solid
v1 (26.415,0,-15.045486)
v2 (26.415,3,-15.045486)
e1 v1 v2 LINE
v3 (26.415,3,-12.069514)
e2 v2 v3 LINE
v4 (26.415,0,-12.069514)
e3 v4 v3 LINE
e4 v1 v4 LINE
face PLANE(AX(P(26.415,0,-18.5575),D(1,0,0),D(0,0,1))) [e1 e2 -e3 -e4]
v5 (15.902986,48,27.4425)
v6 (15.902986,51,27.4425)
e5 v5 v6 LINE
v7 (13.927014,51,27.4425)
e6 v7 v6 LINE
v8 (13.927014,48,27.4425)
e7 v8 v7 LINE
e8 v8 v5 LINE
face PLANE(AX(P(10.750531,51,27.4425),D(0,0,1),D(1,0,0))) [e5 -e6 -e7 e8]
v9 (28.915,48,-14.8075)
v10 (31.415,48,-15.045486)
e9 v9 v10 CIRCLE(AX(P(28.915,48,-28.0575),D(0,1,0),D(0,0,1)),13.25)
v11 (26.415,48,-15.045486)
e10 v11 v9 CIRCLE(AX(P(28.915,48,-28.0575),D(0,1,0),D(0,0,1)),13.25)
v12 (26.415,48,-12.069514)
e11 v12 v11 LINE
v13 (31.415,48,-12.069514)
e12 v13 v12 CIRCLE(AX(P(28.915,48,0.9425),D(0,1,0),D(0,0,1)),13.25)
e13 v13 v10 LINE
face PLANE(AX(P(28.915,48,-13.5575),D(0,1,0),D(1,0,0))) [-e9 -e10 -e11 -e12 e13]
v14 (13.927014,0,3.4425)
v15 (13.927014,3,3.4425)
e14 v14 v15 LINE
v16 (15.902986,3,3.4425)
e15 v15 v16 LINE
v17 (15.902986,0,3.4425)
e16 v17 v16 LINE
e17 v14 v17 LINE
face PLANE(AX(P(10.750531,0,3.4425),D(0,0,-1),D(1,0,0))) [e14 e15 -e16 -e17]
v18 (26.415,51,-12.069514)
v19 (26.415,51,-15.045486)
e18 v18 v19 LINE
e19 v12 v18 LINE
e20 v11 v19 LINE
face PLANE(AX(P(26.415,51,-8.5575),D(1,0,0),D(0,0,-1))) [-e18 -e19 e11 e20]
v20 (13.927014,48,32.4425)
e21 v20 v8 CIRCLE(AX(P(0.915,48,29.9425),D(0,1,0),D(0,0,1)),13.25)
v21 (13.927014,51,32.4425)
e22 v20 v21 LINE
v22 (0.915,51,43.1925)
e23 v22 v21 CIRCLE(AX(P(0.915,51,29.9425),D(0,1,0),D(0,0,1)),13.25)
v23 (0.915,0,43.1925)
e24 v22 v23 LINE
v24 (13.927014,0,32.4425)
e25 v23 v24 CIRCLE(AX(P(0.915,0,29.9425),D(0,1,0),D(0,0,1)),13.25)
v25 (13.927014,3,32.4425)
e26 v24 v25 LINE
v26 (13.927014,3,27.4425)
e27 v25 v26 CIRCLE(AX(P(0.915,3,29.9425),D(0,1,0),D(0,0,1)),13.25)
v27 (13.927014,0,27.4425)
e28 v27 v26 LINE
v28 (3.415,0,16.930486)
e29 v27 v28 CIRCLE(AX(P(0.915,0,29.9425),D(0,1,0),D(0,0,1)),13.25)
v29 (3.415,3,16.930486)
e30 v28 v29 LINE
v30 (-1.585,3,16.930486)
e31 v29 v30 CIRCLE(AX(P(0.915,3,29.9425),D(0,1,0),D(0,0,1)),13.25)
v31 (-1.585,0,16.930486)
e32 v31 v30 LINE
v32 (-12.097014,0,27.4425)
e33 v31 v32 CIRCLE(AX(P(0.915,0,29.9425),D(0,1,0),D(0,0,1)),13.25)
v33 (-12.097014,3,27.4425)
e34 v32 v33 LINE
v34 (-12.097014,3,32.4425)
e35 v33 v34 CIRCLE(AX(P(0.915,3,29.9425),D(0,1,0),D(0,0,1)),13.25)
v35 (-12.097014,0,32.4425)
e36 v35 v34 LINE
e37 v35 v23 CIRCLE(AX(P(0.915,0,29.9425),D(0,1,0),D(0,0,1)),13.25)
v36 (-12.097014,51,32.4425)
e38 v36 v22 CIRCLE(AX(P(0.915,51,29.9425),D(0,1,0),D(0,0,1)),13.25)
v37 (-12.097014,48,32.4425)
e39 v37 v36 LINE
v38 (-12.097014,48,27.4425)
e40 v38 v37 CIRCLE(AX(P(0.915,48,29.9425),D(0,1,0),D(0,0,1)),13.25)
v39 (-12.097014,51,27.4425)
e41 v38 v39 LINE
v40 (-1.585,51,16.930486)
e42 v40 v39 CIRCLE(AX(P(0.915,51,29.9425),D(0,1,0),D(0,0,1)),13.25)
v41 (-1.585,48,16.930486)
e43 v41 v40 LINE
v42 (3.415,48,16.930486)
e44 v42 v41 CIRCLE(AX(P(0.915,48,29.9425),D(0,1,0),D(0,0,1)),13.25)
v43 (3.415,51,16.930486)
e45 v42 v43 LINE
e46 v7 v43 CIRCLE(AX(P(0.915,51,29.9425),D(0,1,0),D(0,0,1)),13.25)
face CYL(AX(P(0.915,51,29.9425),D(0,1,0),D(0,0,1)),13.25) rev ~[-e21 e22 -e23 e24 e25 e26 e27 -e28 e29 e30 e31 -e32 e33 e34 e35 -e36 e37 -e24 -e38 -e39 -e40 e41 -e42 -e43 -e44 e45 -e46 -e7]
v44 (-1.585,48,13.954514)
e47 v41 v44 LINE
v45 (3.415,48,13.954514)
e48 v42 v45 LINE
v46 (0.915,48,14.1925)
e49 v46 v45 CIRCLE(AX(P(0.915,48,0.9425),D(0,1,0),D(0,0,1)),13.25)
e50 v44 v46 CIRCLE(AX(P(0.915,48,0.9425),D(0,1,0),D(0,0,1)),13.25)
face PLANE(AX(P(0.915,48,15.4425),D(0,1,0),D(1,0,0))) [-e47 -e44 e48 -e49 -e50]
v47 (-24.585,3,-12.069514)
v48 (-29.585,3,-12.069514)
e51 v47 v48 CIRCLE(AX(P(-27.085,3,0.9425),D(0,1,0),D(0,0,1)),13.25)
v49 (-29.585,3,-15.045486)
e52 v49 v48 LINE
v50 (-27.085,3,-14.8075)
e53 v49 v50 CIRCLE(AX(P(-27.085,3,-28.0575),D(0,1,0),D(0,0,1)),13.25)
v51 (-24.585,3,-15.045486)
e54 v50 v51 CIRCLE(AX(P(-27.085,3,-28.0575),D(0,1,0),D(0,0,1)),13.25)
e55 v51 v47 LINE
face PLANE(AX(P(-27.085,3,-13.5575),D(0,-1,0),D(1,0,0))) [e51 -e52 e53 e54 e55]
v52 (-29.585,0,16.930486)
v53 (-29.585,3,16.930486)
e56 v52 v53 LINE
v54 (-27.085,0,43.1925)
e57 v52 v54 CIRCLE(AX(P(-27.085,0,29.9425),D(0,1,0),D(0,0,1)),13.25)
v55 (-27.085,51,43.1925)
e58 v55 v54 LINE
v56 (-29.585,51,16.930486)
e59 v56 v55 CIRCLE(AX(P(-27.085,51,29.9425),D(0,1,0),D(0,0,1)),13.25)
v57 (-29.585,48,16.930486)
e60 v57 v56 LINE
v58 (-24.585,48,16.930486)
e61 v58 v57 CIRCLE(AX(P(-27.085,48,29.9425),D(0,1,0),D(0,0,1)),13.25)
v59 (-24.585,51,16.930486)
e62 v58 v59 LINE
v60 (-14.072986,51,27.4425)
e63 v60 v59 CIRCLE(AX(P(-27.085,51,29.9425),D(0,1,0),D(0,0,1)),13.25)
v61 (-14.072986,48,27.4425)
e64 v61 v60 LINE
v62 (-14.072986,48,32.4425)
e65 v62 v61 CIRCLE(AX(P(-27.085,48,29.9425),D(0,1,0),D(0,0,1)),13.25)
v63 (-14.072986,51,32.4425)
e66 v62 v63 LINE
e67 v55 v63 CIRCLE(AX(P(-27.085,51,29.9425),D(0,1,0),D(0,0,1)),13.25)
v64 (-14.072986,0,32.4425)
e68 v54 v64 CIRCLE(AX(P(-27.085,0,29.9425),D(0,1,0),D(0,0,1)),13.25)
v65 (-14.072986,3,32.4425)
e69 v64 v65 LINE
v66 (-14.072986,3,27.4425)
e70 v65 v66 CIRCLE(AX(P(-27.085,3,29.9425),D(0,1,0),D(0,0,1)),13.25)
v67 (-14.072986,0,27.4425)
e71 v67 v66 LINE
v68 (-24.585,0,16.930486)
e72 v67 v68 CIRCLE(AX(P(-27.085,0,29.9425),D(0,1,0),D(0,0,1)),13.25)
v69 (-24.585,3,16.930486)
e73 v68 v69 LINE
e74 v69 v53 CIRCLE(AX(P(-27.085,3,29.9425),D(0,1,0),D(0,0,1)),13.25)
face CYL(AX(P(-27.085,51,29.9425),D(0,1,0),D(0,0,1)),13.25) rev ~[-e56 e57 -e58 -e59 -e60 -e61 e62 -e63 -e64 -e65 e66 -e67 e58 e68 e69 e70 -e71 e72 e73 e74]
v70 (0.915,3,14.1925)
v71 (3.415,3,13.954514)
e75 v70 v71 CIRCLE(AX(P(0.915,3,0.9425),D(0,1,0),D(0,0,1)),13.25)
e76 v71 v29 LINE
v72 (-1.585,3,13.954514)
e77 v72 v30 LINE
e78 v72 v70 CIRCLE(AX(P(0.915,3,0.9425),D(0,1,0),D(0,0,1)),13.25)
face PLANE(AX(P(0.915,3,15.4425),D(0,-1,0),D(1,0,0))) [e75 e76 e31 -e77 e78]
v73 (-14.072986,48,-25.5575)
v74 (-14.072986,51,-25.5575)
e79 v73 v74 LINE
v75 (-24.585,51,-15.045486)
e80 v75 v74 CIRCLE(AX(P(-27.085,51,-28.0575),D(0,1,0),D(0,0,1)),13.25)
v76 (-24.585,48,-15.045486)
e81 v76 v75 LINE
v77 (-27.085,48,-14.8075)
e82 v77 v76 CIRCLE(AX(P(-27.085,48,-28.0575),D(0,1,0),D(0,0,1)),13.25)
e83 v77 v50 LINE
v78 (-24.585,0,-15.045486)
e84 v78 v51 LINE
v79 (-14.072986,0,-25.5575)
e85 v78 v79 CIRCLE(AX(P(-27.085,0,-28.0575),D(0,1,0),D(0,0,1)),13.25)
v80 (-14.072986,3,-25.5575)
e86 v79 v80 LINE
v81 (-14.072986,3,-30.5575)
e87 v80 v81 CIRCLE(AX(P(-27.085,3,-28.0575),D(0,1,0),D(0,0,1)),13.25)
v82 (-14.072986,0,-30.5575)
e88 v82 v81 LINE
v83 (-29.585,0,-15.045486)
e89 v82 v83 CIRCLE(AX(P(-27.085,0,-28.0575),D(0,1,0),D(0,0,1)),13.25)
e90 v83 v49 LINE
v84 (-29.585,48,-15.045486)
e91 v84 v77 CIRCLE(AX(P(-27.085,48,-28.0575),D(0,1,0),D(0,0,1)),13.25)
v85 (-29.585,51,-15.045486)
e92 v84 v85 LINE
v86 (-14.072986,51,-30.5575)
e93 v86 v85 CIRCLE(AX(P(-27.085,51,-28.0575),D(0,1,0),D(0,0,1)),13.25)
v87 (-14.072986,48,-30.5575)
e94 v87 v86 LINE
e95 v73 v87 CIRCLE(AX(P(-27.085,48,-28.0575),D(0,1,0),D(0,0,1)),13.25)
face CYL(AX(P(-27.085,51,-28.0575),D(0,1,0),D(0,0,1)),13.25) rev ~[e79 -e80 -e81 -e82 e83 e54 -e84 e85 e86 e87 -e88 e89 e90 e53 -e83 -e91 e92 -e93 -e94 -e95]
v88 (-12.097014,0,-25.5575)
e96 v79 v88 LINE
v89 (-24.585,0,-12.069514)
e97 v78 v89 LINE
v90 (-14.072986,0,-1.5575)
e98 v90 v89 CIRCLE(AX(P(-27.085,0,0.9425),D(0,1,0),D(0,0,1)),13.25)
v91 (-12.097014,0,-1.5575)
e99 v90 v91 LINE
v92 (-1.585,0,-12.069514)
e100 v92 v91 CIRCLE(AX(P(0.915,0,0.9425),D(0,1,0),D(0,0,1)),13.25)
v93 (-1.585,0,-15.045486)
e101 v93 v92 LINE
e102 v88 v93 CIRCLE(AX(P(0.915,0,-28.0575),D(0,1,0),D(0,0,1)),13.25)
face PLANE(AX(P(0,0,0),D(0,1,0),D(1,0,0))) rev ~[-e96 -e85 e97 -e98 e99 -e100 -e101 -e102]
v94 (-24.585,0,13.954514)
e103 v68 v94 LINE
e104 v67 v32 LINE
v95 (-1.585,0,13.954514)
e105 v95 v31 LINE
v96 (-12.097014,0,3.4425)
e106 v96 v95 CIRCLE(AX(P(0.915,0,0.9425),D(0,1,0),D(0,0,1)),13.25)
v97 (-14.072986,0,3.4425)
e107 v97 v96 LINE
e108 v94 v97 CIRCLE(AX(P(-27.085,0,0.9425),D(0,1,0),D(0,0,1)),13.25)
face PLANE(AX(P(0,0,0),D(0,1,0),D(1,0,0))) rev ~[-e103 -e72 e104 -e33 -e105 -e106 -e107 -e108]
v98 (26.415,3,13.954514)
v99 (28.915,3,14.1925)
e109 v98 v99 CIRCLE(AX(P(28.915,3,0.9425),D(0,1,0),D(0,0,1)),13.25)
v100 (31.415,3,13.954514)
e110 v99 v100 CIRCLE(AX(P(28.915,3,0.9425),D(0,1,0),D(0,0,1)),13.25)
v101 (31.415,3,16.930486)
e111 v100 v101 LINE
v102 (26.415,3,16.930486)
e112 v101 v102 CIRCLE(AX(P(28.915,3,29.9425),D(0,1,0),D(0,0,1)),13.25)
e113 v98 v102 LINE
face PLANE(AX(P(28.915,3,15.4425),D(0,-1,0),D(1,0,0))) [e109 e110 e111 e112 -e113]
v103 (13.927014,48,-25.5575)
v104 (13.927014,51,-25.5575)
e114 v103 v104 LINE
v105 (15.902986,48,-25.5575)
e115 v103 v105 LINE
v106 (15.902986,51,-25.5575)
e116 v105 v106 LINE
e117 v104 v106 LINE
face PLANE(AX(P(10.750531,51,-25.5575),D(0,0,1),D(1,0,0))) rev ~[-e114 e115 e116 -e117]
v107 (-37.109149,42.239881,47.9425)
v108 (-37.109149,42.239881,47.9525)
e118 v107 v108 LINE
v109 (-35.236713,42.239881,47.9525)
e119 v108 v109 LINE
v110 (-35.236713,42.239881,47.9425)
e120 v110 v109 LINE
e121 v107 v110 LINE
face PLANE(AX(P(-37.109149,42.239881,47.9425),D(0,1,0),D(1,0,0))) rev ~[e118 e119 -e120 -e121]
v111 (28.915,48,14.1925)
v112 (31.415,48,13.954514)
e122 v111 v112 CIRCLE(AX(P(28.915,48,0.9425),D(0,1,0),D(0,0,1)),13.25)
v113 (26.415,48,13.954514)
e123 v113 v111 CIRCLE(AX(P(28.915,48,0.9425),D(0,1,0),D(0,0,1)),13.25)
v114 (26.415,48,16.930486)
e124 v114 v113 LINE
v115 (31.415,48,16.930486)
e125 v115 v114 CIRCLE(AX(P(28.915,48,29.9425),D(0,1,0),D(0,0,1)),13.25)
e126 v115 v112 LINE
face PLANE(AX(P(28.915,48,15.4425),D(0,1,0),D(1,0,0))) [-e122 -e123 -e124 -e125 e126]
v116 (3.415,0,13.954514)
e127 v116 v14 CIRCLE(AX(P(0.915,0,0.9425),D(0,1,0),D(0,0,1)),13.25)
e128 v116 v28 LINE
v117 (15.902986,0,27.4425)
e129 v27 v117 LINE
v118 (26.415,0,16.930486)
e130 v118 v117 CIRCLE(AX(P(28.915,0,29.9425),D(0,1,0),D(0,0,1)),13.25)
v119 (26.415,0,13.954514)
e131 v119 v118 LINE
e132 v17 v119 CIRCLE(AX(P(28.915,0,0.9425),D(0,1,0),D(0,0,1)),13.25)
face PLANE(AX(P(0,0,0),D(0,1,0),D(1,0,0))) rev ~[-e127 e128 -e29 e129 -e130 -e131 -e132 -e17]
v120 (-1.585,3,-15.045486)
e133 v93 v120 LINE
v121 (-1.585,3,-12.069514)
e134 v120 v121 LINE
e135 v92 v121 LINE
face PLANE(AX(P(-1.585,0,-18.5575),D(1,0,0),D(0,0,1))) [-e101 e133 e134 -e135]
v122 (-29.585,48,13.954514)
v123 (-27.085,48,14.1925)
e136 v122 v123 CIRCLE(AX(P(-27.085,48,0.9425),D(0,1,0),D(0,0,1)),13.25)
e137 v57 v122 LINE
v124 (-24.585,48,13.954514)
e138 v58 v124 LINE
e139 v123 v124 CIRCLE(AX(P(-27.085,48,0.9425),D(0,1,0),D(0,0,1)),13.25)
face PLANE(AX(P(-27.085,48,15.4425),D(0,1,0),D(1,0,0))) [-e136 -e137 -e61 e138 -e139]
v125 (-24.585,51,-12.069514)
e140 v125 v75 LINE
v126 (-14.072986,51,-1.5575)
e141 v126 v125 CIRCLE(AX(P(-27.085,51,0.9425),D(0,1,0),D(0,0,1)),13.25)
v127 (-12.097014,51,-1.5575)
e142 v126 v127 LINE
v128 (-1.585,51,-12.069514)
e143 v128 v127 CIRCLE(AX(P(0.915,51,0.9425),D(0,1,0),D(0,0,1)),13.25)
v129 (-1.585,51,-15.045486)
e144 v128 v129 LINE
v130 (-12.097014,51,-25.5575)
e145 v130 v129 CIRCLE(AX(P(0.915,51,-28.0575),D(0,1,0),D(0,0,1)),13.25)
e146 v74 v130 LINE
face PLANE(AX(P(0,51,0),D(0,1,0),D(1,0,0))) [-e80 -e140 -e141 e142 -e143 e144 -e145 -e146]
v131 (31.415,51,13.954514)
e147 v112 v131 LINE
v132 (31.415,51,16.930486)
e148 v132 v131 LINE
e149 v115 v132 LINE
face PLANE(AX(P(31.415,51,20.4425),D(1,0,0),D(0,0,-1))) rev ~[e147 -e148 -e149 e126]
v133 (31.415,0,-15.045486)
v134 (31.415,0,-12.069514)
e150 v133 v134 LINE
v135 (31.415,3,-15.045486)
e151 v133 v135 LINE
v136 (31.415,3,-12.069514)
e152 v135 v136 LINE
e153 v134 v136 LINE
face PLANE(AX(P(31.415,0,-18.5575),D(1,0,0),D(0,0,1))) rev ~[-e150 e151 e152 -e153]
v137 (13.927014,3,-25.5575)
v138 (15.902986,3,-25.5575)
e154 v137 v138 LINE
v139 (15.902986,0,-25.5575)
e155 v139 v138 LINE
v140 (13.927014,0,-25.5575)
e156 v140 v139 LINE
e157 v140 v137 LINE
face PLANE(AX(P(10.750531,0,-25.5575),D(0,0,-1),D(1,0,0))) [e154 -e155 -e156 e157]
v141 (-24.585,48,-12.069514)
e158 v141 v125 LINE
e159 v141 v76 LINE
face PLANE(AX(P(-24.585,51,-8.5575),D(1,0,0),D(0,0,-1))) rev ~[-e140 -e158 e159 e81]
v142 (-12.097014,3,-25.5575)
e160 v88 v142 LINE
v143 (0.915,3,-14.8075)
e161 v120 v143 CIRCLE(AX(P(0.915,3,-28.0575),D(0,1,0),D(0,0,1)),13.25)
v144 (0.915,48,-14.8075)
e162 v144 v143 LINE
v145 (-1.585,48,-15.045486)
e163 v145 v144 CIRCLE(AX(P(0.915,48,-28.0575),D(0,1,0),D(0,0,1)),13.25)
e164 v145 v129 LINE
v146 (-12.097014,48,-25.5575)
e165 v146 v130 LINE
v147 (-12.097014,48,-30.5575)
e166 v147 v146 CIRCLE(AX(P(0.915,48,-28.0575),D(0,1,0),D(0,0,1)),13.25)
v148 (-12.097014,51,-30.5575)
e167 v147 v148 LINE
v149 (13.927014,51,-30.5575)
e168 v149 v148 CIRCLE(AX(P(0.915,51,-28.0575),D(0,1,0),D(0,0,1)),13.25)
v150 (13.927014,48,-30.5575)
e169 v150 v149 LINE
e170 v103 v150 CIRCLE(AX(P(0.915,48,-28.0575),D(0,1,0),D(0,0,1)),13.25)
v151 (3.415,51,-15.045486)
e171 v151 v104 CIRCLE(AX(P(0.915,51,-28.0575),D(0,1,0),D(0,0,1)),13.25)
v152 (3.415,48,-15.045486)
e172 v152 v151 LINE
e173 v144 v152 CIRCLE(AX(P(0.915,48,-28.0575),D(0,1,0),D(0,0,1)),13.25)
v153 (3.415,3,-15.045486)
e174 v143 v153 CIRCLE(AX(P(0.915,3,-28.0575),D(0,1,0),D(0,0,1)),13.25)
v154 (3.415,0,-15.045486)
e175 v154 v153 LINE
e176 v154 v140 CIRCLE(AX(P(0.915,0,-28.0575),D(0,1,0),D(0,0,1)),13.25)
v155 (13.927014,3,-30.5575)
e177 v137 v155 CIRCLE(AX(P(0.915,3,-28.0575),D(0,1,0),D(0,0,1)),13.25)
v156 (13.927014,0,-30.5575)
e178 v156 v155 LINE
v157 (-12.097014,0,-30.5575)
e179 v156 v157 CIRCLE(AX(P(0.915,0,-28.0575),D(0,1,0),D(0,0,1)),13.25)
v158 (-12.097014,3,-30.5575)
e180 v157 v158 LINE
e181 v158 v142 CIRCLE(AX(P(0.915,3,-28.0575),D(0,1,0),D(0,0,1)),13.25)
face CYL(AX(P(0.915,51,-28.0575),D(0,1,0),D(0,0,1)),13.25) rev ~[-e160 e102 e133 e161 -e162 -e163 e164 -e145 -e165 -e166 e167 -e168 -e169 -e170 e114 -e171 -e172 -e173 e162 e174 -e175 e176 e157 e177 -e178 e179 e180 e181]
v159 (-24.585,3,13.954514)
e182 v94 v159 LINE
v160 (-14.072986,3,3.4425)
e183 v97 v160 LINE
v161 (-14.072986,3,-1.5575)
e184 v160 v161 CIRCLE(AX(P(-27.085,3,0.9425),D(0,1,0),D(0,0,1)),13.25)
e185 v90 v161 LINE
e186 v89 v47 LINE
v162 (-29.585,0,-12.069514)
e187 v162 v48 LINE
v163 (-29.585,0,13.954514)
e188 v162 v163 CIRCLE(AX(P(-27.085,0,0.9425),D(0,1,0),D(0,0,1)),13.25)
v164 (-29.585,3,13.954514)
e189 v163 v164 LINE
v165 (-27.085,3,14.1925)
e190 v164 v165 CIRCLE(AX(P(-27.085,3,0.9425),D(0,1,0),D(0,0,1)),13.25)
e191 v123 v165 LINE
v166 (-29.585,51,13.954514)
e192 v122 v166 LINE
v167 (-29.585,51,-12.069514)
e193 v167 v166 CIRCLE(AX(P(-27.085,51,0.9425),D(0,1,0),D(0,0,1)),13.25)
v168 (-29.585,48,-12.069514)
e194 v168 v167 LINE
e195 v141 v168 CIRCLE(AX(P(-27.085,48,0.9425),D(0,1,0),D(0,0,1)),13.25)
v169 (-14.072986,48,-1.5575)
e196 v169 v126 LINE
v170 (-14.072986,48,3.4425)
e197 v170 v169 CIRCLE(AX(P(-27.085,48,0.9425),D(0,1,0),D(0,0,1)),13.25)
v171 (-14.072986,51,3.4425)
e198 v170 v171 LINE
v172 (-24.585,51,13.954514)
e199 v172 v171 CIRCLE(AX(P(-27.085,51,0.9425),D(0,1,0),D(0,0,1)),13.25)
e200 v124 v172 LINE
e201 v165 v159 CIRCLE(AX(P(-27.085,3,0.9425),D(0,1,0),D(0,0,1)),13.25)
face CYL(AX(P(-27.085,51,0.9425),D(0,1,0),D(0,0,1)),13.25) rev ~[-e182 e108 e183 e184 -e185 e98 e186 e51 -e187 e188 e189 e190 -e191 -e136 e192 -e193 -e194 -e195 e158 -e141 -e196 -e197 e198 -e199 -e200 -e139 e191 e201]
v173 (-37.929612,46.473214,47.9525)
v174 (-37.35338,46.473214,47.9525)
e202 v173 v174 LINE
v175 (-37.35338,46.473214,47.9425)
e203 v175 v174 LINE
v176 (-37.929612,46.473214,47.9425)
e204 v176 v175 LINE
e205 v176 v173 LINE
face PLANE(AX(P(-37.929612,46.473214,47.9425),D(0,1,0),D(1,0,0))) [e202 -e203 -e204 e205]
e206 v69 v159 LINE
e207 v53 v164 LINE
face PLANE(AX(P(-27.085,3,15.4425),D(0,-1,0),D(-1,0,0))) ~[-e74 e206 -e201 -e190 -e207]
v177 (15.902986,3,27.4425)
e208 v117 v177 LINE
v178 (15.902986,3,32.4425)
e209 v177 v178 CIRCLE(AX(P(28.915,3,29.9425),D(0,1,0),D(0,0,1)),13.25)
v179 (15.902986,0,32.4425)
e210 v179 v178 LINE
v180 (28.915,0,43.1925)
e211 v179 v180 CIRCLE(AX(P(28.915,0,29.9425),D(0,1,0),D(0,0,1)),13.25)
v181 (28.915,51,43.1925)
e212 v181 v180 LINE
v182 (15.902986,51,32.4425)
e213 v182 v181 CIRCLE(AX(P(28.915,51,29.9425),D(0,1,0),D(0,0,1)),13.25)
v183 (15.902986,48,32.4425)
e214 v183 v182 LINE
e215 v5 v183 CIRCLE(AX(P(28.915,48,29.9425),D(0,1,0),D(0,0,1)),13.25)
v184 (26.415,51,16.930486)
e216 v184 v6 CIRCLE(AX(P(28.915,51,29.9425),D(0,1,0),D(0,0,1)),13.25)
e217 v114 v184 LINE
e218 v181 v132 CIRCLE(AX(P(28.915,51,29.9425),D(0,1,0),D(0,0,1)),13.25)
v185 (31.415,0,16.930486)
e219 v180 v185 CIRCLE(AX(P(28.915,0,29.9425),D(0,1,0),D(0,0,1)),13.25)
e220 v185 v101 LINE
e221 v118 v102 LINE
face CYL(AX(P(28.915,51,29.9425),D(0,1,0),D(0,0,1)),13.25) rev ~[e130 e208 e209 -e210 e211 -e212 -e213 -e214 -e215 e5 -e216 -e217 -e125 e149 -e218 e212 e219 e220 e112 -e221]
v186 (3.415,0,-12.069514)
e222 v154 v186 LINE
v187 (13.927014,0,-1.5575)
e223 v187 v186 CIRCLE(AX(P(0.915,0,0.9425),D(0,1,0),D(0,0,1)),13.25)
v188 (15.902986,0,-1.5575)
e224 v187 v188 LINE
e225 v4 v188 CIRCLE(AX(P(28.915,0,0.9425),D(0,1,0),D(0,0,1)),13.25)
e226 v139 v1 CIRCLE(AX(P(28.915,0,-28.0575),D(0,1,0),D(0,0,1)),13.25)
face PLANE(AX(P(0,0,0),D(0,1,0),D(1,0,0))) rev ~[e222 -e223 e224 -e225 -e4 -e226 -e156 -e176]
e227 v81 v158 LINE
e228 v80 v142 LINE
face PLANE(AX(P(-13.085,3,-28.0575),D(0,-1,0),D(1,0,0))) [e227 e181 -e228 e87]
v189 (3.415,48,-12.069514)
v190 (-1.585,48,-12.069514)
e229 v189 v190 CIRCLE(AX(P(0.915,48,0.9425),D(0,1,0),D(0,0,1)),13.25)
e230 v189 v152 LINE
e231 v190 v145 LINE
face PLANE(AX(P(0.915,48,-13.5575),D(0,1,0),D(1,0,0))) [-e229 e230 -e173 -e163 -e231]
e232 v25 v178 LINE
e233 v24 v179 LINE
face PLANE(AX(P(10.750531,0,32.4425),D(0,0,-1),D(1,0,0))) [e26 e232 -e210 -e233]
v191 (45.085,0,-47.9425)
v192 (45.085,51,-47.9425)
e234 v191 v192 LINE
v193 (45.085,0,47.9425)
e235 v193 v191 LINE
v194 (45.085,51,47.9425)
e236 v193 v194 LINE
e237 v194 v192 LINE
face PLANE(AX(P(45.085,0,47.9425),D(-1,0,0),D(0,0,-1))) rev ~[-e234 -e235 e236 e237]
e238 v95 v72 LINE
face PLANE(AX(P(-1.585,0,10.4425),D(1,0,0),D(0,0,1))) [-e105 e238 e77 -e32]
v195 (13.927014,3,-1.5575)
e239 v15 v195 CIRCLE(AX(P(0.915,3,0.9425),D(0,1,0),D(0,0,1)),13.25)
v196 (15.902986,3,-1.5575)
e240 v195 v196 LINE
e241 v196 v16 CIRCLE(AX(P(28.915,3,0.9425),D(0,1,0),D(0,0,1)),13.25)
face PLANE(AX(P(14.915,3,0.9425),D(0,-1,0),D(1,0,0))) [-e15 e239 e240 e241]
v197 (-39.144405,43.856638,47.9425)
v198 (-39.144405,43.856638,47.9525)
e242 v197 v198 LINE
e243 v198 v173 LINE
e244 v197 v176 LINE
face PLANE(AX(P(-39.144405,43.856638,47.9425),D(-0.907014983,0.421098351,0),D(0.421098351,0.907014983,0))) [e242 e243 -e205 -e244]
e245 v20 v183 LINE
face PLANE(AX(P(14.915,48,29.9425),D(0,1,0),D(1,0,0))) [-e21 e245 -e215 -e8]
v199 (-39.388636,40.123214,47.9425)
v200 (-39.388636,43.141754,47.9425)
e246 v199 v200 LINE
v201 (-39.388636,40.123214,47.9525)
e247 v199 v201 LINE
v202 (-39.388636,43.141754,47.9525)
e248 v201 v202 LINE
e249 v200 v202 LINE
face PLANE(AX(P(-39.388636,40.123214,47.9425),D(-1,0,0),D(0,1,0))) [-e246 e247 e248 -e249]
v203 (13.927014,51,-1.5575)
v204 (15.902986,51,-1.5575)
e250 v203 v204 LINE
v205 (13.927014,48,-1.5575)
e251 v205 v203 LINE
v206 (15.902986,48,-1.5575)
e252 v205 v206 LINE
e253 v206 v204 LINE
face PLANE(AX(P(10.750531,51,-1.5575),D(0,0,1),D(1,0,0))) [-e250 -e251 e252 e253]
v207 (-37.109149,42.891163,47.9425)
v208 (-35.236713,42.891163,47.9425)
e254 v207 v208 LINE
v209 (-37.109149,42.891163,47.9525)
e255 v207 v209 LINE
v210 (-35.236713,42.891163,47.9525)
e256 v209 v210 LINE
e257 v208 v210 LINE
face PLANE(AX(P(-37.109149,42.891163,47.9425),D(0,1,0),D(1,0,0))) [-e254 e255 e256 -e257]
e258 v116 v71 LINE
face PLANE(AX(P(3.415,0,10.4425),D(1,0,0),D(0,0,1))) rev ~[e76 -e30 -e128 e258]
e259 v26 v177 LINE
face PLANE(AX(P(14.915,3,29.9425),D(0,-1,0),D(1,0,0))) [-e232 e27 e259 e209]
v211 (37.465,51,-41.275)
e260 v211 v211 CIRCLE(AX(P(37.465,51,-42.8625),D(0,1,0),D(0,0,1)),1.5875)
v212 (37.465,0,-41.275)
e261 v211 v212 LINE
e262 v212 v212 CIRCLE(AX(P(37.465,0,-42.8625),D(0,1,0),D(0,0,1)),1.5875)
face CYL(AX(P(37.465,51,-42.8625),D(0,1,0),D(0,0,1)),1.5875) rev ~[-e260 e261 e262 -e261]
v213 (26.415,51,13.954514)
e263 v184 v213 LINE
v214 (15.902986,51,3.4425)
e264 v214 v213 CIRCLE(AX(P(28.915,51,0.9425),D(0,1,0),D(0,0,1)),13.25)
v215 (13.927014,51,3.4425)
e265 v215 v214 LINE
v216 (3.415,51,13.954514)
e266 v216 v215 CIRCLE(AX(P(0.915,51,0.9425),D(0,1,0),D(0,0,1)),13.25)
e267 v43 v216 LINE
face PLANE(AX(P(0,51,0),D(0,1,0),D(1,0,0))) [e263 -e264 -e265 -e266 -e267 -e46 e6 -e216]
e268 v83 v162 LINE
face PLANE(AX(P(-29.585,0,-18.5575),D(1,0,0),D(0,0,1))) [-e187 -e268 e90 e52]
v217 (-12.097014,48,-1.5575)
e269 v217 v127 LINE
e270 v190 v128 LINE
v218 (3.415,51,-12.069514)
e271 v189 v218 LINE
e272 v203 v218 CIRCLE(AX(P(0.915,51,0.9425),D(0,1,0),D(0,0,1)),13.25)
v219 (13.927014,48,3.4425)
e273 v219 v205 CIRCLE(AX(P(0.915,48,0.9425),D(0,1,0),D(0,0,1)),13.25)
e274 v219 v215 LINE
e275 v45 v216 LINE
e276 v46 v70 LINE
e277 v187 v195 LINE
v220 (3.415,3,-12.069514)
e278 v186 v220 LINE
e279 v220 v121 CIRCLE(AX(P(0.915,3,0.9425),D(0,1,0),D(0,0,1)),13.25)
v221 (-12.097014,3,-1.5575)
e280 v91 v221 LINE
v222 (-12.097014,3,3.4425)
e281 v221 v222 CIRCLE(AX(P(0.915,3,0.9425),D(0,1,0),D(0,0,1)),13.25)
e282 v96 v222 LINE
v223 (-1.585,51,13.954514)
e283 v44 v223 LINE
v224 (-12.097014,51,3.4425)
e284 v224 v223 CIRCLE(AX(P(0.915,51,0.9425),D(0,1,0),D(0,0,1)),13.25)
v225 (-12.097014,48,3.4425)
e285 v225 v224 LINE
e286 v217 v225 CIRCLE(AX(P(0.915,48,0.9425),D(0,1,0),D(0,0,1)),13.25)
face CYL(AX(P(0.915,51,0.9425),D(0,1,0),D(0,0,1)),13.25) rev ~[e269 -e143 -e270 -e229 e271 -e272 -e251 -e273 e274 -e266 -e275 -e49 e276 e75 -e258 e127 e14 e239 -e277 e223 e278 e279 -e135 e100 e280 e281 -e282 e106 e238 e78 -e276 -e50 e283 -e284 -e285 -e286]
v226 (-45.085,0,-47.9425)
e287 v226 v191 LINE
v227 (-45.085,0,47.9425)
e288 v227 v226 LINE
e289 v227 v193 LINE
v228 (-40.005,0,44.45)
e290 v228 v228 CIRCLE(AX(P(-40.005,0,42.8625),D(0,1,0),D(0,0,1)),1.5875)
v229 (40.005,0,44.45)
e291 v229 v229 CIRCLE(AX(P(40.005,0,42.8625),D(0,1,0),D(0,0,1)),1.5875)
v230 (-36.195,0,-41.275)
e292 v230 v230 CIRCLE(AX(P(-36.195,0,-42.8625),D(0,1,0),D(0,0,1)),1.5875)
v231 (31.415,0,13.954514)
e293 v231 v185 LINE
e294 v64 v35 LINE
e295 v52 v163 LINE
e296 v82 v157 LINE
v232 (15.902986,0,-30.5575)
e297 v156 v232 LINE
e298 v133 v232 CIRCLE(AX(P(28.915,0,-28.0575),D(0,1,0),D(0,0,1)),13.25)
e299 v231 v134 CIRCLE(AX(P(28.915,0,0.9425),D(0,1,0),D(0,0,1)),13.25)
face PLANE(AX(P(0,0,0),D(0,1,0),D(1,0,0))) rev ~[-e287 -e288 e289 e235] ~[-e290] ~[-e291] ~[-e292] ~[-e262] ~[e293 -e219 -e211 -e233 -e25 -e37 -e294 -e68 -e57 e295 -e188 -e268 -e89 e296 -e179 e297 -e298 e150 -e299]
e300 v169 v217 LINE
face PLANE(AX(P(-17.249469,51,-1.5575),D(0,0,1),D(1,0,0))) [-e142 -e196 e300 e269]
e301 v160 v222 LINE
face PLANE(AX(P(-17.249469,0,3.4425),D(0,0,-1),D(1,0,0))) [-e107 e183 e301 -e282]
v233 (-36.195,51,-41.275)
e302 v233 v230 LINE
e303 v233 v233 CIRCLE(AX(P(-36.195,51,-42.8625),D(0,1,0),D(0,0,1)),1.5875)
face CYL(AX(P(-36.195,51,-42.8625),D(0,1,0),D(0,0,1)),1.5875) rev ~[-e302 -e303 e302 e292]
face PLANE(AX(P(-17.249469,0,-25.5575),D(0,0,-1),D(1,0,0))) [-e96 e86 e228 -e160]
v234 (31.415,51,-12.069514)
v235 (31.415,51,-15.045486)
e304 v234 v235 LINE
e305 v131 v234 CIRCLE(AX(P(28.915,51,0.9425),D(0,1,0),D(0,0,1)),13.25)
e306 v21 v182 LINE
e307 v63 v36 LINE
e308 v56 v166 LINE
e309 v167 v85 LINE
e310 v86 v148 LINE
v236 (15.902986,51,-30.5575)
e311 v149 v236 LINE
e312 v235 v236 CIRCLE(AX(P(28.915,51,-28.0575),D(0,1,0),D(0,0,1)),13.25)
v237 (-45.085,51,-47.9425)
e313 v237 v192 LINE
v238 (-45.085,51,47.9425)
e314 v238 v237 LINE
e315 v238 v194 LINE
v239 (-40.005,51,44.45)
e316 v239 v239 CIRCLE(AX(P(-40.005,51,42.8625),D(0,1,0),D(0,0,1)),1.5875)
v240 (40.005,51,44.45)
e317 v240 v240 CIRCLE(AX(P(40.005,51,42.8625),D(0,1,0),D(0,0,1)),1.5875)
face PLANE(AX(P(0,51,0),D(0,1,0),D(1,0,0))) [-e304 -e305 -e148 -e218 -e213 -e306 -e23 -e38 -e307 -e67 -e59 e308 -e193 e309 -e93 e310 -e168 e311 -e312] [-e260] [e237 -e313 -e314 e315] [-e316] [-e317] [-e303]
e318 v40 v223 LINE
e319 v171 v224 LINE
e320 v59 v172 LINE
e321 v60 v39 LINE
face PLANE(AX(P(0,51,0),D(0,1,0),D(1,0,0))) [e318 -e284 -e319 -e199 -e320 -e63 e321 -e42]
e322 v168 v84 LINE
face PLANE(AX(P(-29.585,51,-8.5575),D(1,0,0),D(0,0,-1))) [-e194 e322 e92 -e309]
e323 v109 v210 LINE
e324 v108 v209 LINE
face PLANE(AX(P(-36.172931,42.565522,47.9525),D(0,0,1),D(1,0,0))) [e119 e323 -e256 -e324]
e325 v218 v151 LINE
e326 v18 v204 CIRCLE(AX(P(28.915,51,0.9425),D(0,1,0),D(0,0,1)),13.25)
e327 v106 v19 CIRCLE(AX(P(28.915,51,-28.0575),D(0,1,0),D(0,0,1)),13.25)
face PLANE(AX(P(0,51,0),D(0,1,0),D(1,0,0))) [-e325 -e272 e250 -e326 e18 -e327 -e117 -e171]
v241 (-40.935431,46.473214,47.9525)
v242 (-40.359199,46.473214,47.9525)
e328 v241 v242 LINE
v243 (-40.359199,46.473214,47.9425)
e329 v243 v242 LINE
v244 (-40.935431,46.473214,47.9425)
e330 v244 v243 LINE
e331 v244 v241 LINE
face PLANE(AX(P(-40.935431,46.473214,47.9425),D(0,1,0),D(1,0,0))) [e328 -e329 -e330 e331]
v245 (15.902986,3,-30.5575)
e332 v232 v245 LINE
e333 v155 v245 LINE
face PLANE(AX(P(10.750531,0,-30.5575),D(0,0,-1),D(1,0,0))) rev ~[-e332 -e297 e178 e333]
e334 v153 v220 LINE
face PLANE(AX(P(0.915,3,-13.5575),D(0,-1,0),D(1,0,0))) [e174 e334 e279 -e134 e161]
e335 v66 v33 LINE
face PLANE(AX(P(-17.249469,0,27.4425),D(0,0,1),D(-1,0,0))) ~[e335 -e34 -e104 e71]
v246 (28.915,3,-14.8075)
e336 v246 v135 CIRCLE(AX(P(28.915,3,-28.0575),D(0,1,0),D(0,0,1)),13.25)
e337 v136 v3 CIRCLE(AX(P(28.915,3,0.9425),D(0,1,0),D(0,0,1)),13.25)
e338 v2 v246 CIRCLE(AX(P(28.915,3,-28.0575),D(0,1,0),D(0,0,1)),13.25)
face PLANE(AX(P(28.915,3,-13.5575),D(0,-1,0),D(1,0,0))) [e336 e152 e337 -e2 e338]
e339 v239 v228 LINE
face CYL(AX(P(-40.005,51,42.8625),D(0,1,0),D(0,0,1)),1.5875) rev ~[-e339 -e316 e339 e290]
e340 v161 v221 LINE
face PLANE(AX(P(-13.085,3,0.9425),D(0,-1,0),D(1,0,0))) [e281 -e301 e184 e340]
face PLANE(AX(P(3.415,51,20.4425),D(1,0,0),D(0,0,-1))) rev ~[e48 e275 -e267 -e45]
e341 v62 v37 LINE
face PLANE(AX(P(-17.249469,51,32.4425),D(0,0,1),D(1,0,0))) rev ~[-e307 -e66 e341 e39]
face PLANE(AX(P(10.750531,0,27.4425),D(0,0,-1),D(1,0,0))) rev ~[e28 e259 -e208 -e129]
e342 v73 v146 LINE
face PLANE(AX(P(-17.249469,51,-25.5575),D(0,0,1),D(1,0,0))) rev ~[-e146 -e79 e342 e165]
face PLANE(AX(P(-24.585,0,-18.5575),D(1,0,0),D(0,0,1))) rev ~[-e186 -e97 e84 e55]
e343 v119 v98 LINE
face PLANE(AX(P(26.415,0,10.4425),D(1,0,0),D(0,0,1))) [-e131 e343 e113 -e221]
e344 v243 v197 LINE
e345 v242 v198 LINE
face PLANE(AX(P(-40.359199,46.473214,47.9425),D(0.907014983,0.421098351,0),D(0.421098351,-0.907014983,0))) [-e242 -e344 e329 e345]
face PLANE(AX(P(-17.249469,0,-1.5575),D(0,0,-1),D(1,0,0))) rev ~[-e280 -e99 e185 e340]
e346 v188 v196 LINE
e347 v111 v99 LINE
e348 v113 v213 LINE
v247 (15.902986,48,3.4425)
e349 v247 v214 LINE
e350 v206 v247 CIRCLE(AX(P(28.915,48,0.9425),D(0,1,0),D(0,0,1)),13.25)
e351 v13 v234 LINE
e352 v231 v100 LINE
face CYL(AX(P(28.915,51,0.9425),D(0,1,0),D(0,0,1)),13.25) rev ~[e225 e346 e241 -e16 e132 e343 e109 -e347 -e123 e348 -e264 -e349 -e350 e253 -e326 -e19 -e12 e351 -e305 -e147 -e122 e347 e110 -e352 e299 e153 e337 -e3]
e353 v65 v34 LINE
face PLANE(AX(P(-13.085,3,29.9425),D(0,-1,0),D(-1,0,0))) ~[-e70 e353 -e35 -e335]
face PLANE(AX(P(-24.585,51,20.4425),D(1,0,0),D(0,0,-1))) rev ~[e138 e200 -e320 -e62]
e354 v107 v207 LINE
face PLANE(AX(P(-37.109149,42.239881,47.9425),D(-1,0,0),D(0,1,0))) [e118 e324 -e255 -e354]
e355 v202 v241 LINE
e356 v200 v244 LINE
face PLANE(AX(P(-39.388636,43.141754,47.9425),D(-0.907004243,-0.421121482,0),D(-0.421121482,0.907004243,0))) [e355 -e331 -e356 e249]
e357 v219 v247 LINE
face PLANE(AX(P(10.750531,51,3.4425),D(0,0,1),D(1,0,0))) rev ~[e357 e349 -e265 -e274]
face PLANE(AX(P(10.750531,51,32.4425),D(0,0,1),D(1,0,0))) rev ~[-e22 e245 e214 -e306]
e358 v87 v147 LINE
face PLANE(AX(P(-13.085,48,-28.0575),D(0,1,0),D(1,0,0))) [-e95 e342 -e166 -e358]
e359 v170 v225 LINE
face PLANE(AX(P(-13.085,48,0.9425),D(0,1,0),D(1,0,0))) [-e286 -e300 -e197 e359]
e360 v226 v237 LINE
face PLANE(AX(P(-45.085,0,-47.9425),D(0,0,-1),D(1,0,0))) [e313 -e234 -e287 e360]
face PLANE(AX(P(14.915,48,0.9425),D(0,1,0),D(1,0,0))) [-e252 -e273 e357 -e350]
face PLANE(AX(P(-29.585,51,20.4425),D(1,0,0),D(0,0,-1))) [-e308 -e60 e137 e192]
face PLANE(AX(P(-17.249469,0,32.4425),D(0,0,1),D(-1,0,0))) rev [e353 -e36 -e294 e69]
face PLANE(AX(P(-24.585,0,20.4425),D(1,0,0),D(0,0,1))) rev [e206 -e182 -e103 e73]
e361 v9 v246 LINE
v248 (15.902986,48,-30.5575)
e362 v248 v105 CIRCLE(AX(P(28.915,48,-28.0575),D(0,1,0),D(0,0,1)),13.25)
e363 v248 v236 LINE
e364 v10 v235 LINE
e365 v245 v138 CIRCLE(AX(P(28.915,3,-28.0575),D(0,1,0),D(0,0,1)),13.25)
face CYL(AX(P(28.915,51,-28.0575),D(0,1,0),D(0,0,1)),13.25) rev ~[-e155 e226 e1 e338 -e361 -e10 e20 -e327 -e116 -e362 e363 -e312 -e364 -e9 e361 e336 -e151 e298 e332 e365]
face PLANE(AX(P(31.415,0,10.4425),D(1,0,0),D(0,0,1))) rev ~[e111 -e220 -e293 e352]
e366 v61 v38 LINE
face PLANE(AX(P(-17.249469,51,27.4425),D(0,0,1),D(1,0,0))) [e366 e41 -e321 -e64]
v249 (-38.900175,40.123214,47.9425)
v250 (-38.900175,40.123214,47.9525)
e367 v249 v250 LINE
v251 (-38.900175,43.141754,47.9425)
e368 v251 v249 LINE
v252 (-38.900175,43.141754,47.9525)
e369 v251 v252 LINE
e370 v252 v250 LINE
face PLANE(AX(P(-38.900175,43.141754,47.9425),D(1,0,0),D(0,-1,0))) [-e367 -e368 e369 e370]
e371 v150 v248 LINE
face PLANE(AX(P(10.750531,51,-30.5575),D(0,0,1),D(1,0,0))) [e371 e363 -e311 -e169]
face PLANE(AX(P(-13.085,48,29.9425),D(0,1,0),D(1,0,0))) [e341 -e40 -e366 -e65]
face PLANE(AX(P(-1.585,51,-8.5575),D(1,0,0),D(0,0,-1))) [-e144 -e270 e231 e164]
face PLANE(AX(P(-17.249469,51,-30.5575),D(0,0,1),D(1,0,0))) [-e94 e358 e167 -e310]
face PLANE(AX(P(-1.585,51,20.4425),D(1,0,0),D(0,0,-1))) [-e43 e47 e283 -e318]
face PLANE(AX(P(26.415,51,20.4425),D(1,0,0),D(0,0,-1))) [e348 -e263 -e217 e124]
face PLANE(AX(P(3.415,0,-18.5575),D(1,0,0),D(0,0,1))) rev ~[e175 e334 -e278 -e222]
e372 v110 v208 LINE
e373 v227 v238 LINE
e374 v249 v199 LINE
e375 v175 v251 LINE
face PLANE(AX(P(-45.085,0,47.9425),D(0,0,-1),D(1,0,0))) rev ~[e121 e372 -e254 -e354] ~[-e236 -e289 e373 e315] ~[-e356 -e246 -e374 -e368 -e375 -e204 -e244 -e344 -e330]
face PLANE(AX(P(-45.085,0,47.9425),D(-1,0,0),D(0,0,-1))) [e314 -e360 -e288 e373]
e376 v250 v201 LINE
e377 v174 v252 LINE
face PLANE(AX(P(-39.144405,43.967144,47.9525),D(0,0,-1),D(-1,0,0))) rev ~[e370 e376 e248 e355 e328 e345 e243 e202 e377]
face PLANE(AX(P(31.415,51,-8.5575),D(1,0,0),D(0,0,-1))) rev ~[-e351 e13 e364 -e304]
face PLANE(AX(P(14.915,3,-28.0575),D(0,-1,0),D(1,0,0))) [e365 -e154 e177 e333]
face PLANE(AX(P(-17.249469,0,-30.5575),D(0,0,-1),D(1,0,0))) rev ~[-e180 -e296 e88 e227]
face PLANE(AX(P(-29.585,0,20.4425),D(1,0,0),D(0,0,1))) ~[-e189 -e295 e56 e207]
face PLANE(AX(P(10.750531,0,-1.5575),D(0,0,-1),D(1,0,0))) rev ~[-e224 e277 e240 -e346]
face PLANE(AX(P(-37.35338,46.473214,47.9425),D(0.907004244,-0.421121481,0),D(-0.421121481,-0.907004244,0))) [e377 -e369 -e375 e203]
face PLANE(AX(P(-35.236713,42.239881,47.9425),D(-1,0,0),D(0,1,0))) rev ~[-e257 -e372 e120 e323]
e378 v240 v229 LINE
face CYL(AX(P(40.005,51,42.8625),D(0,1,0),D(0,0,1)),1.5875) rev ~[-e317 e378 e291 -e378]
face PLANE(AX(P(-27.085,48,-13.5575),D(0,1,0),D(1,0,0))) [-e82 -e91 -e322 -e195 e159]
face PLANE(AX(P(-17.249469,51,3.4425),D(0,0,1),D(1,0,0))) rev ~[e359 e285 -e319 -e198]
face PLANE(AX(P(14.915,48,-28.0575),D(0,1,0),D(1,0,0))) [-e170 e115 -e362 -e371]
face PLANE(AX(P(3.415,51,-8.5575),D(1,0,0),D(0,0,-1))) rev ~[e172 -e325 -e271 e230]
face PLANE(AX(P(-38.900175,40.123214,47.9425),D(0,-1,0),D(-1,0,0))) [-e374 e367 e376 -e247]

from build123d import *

# Parameters (mm, degrees)
SKETCH1_W                 = 90.17
SKETCH1_H                 = 95.885
BOSS_EXTRUDE1_DEPTH       = 51
SKETCH2_R                 = 1.5875
CUT_EXTRUDE1_DEPTH        = 51
SKETCH3_R                 = 13.25
CUT_EXTRUDE2_DEPTH        = 51
LPATTERN1_COUNT           = 3
LPATTERN1_PITCH           = 29
LPATTERN2_COUNT           = 3
LPATTERN2_PITCH           = 28
LPATTERN2_COPY_1_SKETCH_R = 13.25
LPATTERN2_COPY_1_DEPTH    = 51
LPATTERN2_COPY_2_SKETCH_R = 13.25
LPATTERN2_COPY_2_DEPTH    = 51
LPATTERN2_COPY_3_SKETCH_R = 13.25
LPATTERN2_COPY_3_DEPTH    = 51
LPATTERN2_COPY_4_SKETCH_R = 13.25
LPATTERN2_COPY_4_DEPTH    = 51
SKETCH4_W                 = 1.872435897
SKETCH4_H                 = 0.651282051
BOSS_EXTRUDE2_DEPTH       = 0.01
SKETCH6_W                 = 5
SKETCH6_H                 = 10
CUT_EXTRUDE3_DEPTH        = 3
LPATTERN3_COUNT           = 2
LPATTERN3_PITCH           = 29
LPATTERN4_COUNT           = 3
LPATTERN4_PITCH           = 28
LPATTERN4_COPY_1_SKETCH_W = 5
LPATTERN4_COPY_1_SKETCH_H = 10
LPATTERN4_COPY_1_DEPTH    = 3
LPATTERN4_COPY_2_SKETCH_W = 5
LPATTERN4_COPY_2_SKETCH_H = 10
LPATTERN4_COPY_2_DEPTH    = 3
SKETCH7_W                 = 8.328938764
SKETCH7_H                 = 5
CUT_EXTRUDE4_DEPTH        = 3
LPATTERN5_COUNT           = 2
LPATTERN5_PITCH           = 28
LPATTERN6_COUNT           = 3
LPATTERN6_PITCH           = 29
LPATTERN6_COPY_1_SKETCH_W = 8.328938764
LPATTERN6_COPY_1_SKETCH_H = 5
LPATTERN6_COPY_1_DEPTH    = 3
LPATTERN6_COPY_2_SKETCH_W = 8.328938764
LPATTERN6_COPY_2_SKETCH_H = 5
LPATTERN6_COPY_2_DEPTH    = 3
MIRROR2_COPY_1_SKETCH_W   = 5
MIRROR2_COPY_1_SKETCH_H   = 10
MIRROR2_COPY_1_DEPTH      = 3
MIRROR2_COPY_2_SKETCH_W   = 5
MIRROR2_COPY_2_SKETCH_H   = 10
MIRROR2_COPY_2_DEPTH      = 3
MIRROR2_COPY_3_SKETCH_W   = 5
MIRROR2_COPY_3_SKETCH_H   = 10
MIRROR2_COPY_3_DEPTH      = 3
MIRROR2_COPY_4_SKETCH_W   = 5
MIRROR2_COPY_4_SKETCH_H   = 10
MIRROR2_COPY_4_DEPTH      = 3
MIRROR2_COPY_5_SKETCH_W   = 5
MIRROR2_COPY_5_SKETCH_H   = 10
MIRROR2_COPY_5_DEPTH      = 3
MIRROR2_COPY_6_SKETCH_W   = 8.328938764
MIRROR2_COPY_6_SKETCH_H   = 5
MIRROR2_COPY_6_DEPTH      = 3
MIRROR2_COPY_7_SKETCH_W   = 8.328938764
MIRROR2_COPY_7_SKETCH_H   = 5
MIRROR2_COPY_7_DEPTH      = 3
MIRROR2_COPY_8_SKETCH_W   = 8.328938764
MIRROR2_COPY_8_SKETCH_H   = 5
MIRROR2_COPY_8_DEPTH      = 3
MIRROR2_COPY_9_SKETCH_W   = 8.328938764
MIRROR2_COPY_9_SKETCH_H   = 5
MIRROR2_COPY_9_DEPTH      = 3
MIRROR2_COPY_10_SKETCH_W  = 8.328938764
MIRROR2_COPY_10_SKETCH_H  = 5
MIRROR2_COPY_10_DEPTH     = 3


with BuildPart() as part:
    # Sketch1 → Boss-Extrude1 (new body)
    with BuildSketch(Plane(origin=(0, 0, 0), x_dir=(1, 0, 0), z_dir=(0, 1, 0))):
        Rectangle(SKETCH1_W, SKETCH1_H)
    extrude(amount=BOSS_EXTRUDE1_DEPTH)

    # Sketch2 → Cut-Extrude1 (cut)
    with BuildSketch(Plane(origin=(0, 51, 0), x_dir=(1, 0, 0), z_dir=(0, 1, 0))):
        with Locations(Location((-36.195, 42.8625, 0), (0, 0, 270))):
            Circle(SKETCH2_R)
        with Locations(Location((37.465, 42.8625, 0), (0, 0, 270))):
            Circle(SKETCH2_R)
        with Locations(Location((-40.005, -42.8625, 0), (0, 0, 270))):
            Circle(SKETCH2_R)
        with Locations(Location((40.005, -42.8625, 0), (0, 0, 270))):
            Circle(SKETCH2_R)
    extrude(amount=-CUT_EXTRUDE1_DEPTH, mode=Mode.SUBTRACT)

    # Sketch3 → Cut-Extrude2 (cut)
    with BuildSketch(Plane(origin=(0, 51, 0), x_dir=(1, 0, 0), z_dir=(0, 1, 0))):
        with Locations(Location((-27.085, -29.9425, 0), (0, 0, 270))):
            Circle(SKETCH3_R)
    cut_extrude2 = extrude(amount=-CUT_EXTRUDE2_DEPTH, mode=Mode.SUBTRACT)

    # LPattern1: Cut-Extrude2 ×3
    with Locations(*[(0, 0, -i * LPATTERN1_PITCH) for i in range(1, LPATTERN1_COUNT)]):
        add(cut_extrude2, mode=Mode.SUBTRACT)

    # LPattern2: Cut-Extrude2 ×3
    with Locations(*[(i * LPATTERN2_PITCH, 0, 0) for i in range(1, LPATTERN2_COUNT)]):
        add(cut_extrude2, mode=Mode.SUBTRACT)

    # LPattern2 copy 1 sketch → LPattern2 copy 1 (cut)
    with BuildSketch(Plane(origin=(28, 51, -29), x_dir=(1, 0, 0), z_dir=(0, 1, 0))):
        with Locations(Location((-27.085, -29.9425, 0), (0, 0, 270))):
            Circle(LPATTERN2_COPY_1_SKETCH_R)
    extrude(amount=-LPATTERN2_COPY_1_DEPTH, mode=Mode.SUBTRACT)

    # LPattern2 copy 2 sketch → LPattern2 copy 2 (cut)
    with BuildSketch(Plane(origin=(56, 51, -29), x_dir=(1, 0, 0), z_dir=(0, 1, 0))):
        with Locations(Location((-27.085, -29.9425, 0), (0, 0, 270))):
            Circle(LPATTERN2_COPY_2_SKETCH_R)
    extrude(amount=-LPATTERN2_COPY_2_DEPTH, mode=Mode.SUBTRACT)

    # LPattern2 copy 3 sketch → LPattern2 copy 3 (cut)
    with BuildSketch(Plane(origin=(28, 51, -58), x_dir=(1, 0, 0), z_dir=(0, 1, 0))):
        with Locations(Location((-27.085, -29.9425, 0), (0, 0, 270))):
            Circle(LPATTERN2_COPY_3_SKETCH_R)
    extrude(amount=-LPATTERN2_COPY_3_DEPTH, mode=Mode.SUBTRACT)

    # LPattern2 copy 4 sketch → LPattern2 copy 4 (cut)
    with BuildSketch(Plane(origin=(56, 51, -58), x_dir=(1, 0, 0), z_dir=(0, 1, 0))):
        with Locations(Location((-27.085, -29.9425, 0), (0, 0, 270))):
            Circle(LPATTERN2_COPY_4_SKETCH_R)
    extrude(amount=-LPATTERN2_COPY_4_DEPTH, mode=Mode.SUBTRACT)

    # Sketch4 → Boss-Extrude2 (add)
    with BuildSketch(Plane.XY.offset(47.9425)):
        Polygon((-40.935431089, 46.473214492), (-40.359199118, 46.473214492), (-39.144405448, 43.85663797), (-37.929611778, 46.473214492), (-37.353379807, 46.473214492), (-38.900174678, 43.141754156), (-38.900174678, 40.123214492), (-39.388636217, 40.123214492), (-39.388636217, 43.141754156), align=None)
        with Locations((-36.172931089, 42.565522184)):
            Rectangle(SKETCH4_W, SKETCH4_H)
    extrude(amount=BOSS_EXTRUDE2_DEPTH)

    # Sketch6 → Cut-Extrude3 (cut)
    with BuildSketch(Plane(origin=(0, 51, 0), x_dir=(1, 0, 0), z_dir=(0, 1, 0))):
        with Locations((-27.085, -15.4425)):
            Rectangle(SKETCH6_W, SKETCH6_H)
    cut_extrude3 = extrude(amount=-CUT_EXTRUDE3_DEPTH, mode=Mode.SUBTRACT)

    # LPattern3: Cut-Extrude3 ×2
    with Locations(*[(0, 0, -i * LPATTERN3_PITCH) for i in range(1, LPATTERN3_COUNT)]):
        add(cut_extrude3, mode=Mode.SUBTRACT)

    # LPattern4: Cut-Extrude3 ×3
    with Locations(*[(i * LPATTERN4_PITCH, 0, 0) for i in range(1, LPATTERN4_COUNT)]):
        add(cut_extrude3, mode=Mode.SUBTRACT)

    # LPattern4 copy 1 sketch → LPattern4 copy 1 (cut)
    with BuildSketch(Plane(origin=(28, 51, -29), x_dir=(1, 0, 0), z_dir=(0, 1, 0))):
        with Locations((-27.085, -15.4425)):
            Rectangle(LPATTERN4_COPY_1_SKETCH_W, LPATTERN4_COPY_1_SKETCH_H)
    extrude(amount=-LPATTERN4_COPY_1_DEPTH, mode=Mode.SUBTRACT)

    # LPattern4 copy 2 sketch → LPattern4 copy 2 (cut)
    with BuildSketch(Plane(origin=(56, 51, -29), x_dir=(1, 0, 0), z_dir=(0, 1, 0))):
        with Locations((-27.085, -15.4425)):
            Rectangle(LPATTERN4_COPY_2_SKETCH_W, LPATTERN4_COPY_2_SKETCH_H)
    extrude(amount=-LPATTERN4_COPY_2_DEPTH, mode=Mode.SUBTRACT)

    # Sketch7 → Cut-Extrude4 (cut)
    with BuildSketch(Plane(origin=(0, 51, 0), x_dir=(1, 0, 0), z_dir=(0, 1, 0))):
        with Locations((-13.085, -29.9425)):
            Rectangle(SKETCH7_W, SKETCH7_H)
    cut_extrude4 = extrude(amount=-CUT_EXTRUDE4_DEPTH, mode=Mode.SUBTRACT)

    # LPattern5: Cut-Extrude4 ×2
    with Locations(*[(i * LPATTERN5_PITCH, 0, 0) for i in range(1, LPATTERN5_COUNT)]):
        add(cut_extrude4, mode=Mode.SUBTRACT)

    # LPattern6: Cut-Extrude4 ×3
    with Locations(*[(0, 0, -i * LPATTERN6_PITCH) for i in range(1, LPATTERN6_COUNT)]):
        add(cut_extrude4, mode=Mode.SUBTRACT)

    # LPattern6 copy 1 sketch → LPattern6 copy 1 (cut)
    with BuildSketch(Plane(origin=(28, 51, -29), x_dir=(1, 0, 0), z_dir=(0, 1, 0))):
        with Locations((-13.085, -29.9425)):
            Rectangle(LPATTERN6_COPY_1_SKETCH_W, LPATTERN6_COPY_1_SKETCH_H)
    extrude(amount=-LPATTERN6_COPY_1_DEPTH, mode=Mode.SUBTRACT)

    # LPattern6 copy 2 sketch → LPattern6 copy 2 (cut)
    with BuildSketch(Plane(origin=(28, 51, -58), x_dir=(1, 0, 0), z_dir=(0, 1, 0))):
        with Locations((-13.085, -29.9425)):
            Rectangle(LPATTERN6_COPY_2_SKETCH_W, LPATTERN6_COPY_2_SKETCH_H)
    extrude(amount=-LPATTERN6_COPY_2_DEPTH, mode=Mode.SUBTRACT)

    # Mirror2: Cut-Extrude3, Cut-Extrude4 across plane
    add(cut_extrude3.mirror(Plane.ZX.offset(25.5)), mode=Mode.SUBTRACT)
    add(cut_extrude4.mirror(Plane.ZX.offset(25.5)), mode=Mode.SUBTRACT)

    # Mirror2 copy 1 sketch → Mirror2 copy 1 (cut)
    with BuildSketch(Plane(origin=(0, 0, -29), x_dir=(1, 0, 0), z_dir=(0, -1, 0))):
        with Locations((-27.085, 15.4425)):
            Rectangle(MIRROR2_COPY_1_SKETCH_W, MIRROR2_COPY_1_SKETCH_H)
    extrude(amount=-MIRROR2_COPY_1_DEPTH, mode=Mode.SUBTRACT)

    # Mirror2 copy 2 sketch → Mirror2 copy 2 (cut)
    with BuildSketch(Plane(origin=(28, 0, 0), x_dir=(1, 0, 0), z_dir=(0, -1, 0))):
        with Locations((-27.085, 15.4425)):
            Rectangle(MIRROR2_COPY_2_SKETCH_W, MIRROR2_COPY_2_SKETCH_H)
    extrude(amount=-MIRROR2_COPY_2_DEPTH, mode=Mode.SUBTRACT)

    # Mirror2 copy 3 sketch → Mirror2 copy 3 (cut)
    with BuildSketch(Plane(origin=(56, 0, 0), x_dir=(1, 0, 0), z_dir=(0, -1, 0))):
        with Locations((-27.085, 15.4425)):
            Rectangle(MIRROR2_COPY_3_SKETCH_W, MIRROR2_COPY_3_SKETCH_H)
    extrude(amount=-MIRROR2_COPY_3_DEPTH, mode=Mode.SUBTRACT)

    # Mirror2 copy 4 sketch → Mirror2 copy 4 (cut)
    with BuildSketch(Plane(origin=(28, 0, -29), x_dir=(1, 0, 0), z_dir=(0, -1, 0))):
        with Locations((-27.085, 15.4425)):
            Rectangle(MIRROR2_COPY_4_SKETCH_W, MIRROR2_COPY_4_SKETCH_H)
    extrude(amount=-MIRROR2_COPY_4_DEPTH, mode=Mode.SUBTRACT)

    # Mirror2 copy 5 sketch → Mirror2 copy 5 (cut)
    with BuildSketch(Plane(origin=(56, 0, -29), x_dir=(1, 0, 0), z_dir=(0, -1, 0))):
        with Locations((-27.085, 15.4425)):
            Rectangle(MIRROR2_COPY_5_SKETCH_W, MIRROR2_COPY_5_SKETCH_H)
    extrude(amount=-MIRROR2_COPY_5_DEPTH, mode=Mode.SUBTRACT)

    # Mirror2 copy 6 sketch → Mirror2 copy 6 (cut)
    with BuildSketch(Plane(origin=(28, 0, 0), x_dir=(1, 0, 0), z_dir=(0, -1, 0))):
        with Locations((-13.085, 29.9425)):
            Rectangle(MIRROR2_COPY_6_SKETCH_W, MIRROR2_COPY_6_SKETCH_H)
    extrude(amount=-MIRROR2_COPY_6_DEPTH, mode=Mode.SUBTRACT)

    # Mirror2 copy 7 sketch → Mirror2 copy 7 (cut)
    with BuildSketch(Plane(origin=(0, 0, -29), x_dir=(1, 0, 0), z_dir=(0, -1, 0))):
        with Locations((-13.085, 29.9425)):
            Rectangle(MIRROR2_COPY_7_SKETCH_W, MIRROR2_COPY_7_SKETCH_H)
    extrude(amount=-MIRROR2_COPY_7_DEPTH, mode=Mode.SUBTRACT)

    # Mirror2 copy 8 sketch → Mirror2 copy 8 (cut)
    with BuildSketch(Plane(origin=(0, 0, -58), x_dir=(1, 0, 0), z_dir=(0, -1, 0))):
        with Locations((-13.085, 29.9425)):
            Rectangle(MIRROR2_COPY_8_SKETCH_W, MIRROR2_COPY_8_SKETCH_H)
    extrude(amount=-MIRROR2_COPY_8_DEPTH, mode=Mode.SUBTRACT)

    # Mirror2 copy 9 sketch → Mirror2 copy 9 (cut)
    with BuildSketch(Plane(origin=(28, 0, -29), x_dir=(1, 0, 0), z_dir=(0, -1, 0))):
        with Locations((-13.085, 29.9425)):
            Rectangle(MIRROR2_COPY_9_SKETCH_W, MIRROR2_COPY_9_SKETCH_H)
    extrude(amount=-MIRROR2_COPY_9_DEPTH, mode=Mode.SUBTRACT)

    # Mirror2 copy 10 sketch → Mirror2 copy 10 (cut)
    with BuildSketch(Plane(origin=(28, 0, -58), x_dir=(1, 0, 0), z_dir=(0, -1, 0))):
        with Locations((-13.085, 29.9425)):
            Rectangle(MIRROR2_COPY_10_SKETCH_W, MIRROR2_COPY_10_SKETCH_H)
    extrude(amount=-MIRROR2_COPY_10_DEPTH, mode=Mode.SUBTRACT)


solid = part.part
